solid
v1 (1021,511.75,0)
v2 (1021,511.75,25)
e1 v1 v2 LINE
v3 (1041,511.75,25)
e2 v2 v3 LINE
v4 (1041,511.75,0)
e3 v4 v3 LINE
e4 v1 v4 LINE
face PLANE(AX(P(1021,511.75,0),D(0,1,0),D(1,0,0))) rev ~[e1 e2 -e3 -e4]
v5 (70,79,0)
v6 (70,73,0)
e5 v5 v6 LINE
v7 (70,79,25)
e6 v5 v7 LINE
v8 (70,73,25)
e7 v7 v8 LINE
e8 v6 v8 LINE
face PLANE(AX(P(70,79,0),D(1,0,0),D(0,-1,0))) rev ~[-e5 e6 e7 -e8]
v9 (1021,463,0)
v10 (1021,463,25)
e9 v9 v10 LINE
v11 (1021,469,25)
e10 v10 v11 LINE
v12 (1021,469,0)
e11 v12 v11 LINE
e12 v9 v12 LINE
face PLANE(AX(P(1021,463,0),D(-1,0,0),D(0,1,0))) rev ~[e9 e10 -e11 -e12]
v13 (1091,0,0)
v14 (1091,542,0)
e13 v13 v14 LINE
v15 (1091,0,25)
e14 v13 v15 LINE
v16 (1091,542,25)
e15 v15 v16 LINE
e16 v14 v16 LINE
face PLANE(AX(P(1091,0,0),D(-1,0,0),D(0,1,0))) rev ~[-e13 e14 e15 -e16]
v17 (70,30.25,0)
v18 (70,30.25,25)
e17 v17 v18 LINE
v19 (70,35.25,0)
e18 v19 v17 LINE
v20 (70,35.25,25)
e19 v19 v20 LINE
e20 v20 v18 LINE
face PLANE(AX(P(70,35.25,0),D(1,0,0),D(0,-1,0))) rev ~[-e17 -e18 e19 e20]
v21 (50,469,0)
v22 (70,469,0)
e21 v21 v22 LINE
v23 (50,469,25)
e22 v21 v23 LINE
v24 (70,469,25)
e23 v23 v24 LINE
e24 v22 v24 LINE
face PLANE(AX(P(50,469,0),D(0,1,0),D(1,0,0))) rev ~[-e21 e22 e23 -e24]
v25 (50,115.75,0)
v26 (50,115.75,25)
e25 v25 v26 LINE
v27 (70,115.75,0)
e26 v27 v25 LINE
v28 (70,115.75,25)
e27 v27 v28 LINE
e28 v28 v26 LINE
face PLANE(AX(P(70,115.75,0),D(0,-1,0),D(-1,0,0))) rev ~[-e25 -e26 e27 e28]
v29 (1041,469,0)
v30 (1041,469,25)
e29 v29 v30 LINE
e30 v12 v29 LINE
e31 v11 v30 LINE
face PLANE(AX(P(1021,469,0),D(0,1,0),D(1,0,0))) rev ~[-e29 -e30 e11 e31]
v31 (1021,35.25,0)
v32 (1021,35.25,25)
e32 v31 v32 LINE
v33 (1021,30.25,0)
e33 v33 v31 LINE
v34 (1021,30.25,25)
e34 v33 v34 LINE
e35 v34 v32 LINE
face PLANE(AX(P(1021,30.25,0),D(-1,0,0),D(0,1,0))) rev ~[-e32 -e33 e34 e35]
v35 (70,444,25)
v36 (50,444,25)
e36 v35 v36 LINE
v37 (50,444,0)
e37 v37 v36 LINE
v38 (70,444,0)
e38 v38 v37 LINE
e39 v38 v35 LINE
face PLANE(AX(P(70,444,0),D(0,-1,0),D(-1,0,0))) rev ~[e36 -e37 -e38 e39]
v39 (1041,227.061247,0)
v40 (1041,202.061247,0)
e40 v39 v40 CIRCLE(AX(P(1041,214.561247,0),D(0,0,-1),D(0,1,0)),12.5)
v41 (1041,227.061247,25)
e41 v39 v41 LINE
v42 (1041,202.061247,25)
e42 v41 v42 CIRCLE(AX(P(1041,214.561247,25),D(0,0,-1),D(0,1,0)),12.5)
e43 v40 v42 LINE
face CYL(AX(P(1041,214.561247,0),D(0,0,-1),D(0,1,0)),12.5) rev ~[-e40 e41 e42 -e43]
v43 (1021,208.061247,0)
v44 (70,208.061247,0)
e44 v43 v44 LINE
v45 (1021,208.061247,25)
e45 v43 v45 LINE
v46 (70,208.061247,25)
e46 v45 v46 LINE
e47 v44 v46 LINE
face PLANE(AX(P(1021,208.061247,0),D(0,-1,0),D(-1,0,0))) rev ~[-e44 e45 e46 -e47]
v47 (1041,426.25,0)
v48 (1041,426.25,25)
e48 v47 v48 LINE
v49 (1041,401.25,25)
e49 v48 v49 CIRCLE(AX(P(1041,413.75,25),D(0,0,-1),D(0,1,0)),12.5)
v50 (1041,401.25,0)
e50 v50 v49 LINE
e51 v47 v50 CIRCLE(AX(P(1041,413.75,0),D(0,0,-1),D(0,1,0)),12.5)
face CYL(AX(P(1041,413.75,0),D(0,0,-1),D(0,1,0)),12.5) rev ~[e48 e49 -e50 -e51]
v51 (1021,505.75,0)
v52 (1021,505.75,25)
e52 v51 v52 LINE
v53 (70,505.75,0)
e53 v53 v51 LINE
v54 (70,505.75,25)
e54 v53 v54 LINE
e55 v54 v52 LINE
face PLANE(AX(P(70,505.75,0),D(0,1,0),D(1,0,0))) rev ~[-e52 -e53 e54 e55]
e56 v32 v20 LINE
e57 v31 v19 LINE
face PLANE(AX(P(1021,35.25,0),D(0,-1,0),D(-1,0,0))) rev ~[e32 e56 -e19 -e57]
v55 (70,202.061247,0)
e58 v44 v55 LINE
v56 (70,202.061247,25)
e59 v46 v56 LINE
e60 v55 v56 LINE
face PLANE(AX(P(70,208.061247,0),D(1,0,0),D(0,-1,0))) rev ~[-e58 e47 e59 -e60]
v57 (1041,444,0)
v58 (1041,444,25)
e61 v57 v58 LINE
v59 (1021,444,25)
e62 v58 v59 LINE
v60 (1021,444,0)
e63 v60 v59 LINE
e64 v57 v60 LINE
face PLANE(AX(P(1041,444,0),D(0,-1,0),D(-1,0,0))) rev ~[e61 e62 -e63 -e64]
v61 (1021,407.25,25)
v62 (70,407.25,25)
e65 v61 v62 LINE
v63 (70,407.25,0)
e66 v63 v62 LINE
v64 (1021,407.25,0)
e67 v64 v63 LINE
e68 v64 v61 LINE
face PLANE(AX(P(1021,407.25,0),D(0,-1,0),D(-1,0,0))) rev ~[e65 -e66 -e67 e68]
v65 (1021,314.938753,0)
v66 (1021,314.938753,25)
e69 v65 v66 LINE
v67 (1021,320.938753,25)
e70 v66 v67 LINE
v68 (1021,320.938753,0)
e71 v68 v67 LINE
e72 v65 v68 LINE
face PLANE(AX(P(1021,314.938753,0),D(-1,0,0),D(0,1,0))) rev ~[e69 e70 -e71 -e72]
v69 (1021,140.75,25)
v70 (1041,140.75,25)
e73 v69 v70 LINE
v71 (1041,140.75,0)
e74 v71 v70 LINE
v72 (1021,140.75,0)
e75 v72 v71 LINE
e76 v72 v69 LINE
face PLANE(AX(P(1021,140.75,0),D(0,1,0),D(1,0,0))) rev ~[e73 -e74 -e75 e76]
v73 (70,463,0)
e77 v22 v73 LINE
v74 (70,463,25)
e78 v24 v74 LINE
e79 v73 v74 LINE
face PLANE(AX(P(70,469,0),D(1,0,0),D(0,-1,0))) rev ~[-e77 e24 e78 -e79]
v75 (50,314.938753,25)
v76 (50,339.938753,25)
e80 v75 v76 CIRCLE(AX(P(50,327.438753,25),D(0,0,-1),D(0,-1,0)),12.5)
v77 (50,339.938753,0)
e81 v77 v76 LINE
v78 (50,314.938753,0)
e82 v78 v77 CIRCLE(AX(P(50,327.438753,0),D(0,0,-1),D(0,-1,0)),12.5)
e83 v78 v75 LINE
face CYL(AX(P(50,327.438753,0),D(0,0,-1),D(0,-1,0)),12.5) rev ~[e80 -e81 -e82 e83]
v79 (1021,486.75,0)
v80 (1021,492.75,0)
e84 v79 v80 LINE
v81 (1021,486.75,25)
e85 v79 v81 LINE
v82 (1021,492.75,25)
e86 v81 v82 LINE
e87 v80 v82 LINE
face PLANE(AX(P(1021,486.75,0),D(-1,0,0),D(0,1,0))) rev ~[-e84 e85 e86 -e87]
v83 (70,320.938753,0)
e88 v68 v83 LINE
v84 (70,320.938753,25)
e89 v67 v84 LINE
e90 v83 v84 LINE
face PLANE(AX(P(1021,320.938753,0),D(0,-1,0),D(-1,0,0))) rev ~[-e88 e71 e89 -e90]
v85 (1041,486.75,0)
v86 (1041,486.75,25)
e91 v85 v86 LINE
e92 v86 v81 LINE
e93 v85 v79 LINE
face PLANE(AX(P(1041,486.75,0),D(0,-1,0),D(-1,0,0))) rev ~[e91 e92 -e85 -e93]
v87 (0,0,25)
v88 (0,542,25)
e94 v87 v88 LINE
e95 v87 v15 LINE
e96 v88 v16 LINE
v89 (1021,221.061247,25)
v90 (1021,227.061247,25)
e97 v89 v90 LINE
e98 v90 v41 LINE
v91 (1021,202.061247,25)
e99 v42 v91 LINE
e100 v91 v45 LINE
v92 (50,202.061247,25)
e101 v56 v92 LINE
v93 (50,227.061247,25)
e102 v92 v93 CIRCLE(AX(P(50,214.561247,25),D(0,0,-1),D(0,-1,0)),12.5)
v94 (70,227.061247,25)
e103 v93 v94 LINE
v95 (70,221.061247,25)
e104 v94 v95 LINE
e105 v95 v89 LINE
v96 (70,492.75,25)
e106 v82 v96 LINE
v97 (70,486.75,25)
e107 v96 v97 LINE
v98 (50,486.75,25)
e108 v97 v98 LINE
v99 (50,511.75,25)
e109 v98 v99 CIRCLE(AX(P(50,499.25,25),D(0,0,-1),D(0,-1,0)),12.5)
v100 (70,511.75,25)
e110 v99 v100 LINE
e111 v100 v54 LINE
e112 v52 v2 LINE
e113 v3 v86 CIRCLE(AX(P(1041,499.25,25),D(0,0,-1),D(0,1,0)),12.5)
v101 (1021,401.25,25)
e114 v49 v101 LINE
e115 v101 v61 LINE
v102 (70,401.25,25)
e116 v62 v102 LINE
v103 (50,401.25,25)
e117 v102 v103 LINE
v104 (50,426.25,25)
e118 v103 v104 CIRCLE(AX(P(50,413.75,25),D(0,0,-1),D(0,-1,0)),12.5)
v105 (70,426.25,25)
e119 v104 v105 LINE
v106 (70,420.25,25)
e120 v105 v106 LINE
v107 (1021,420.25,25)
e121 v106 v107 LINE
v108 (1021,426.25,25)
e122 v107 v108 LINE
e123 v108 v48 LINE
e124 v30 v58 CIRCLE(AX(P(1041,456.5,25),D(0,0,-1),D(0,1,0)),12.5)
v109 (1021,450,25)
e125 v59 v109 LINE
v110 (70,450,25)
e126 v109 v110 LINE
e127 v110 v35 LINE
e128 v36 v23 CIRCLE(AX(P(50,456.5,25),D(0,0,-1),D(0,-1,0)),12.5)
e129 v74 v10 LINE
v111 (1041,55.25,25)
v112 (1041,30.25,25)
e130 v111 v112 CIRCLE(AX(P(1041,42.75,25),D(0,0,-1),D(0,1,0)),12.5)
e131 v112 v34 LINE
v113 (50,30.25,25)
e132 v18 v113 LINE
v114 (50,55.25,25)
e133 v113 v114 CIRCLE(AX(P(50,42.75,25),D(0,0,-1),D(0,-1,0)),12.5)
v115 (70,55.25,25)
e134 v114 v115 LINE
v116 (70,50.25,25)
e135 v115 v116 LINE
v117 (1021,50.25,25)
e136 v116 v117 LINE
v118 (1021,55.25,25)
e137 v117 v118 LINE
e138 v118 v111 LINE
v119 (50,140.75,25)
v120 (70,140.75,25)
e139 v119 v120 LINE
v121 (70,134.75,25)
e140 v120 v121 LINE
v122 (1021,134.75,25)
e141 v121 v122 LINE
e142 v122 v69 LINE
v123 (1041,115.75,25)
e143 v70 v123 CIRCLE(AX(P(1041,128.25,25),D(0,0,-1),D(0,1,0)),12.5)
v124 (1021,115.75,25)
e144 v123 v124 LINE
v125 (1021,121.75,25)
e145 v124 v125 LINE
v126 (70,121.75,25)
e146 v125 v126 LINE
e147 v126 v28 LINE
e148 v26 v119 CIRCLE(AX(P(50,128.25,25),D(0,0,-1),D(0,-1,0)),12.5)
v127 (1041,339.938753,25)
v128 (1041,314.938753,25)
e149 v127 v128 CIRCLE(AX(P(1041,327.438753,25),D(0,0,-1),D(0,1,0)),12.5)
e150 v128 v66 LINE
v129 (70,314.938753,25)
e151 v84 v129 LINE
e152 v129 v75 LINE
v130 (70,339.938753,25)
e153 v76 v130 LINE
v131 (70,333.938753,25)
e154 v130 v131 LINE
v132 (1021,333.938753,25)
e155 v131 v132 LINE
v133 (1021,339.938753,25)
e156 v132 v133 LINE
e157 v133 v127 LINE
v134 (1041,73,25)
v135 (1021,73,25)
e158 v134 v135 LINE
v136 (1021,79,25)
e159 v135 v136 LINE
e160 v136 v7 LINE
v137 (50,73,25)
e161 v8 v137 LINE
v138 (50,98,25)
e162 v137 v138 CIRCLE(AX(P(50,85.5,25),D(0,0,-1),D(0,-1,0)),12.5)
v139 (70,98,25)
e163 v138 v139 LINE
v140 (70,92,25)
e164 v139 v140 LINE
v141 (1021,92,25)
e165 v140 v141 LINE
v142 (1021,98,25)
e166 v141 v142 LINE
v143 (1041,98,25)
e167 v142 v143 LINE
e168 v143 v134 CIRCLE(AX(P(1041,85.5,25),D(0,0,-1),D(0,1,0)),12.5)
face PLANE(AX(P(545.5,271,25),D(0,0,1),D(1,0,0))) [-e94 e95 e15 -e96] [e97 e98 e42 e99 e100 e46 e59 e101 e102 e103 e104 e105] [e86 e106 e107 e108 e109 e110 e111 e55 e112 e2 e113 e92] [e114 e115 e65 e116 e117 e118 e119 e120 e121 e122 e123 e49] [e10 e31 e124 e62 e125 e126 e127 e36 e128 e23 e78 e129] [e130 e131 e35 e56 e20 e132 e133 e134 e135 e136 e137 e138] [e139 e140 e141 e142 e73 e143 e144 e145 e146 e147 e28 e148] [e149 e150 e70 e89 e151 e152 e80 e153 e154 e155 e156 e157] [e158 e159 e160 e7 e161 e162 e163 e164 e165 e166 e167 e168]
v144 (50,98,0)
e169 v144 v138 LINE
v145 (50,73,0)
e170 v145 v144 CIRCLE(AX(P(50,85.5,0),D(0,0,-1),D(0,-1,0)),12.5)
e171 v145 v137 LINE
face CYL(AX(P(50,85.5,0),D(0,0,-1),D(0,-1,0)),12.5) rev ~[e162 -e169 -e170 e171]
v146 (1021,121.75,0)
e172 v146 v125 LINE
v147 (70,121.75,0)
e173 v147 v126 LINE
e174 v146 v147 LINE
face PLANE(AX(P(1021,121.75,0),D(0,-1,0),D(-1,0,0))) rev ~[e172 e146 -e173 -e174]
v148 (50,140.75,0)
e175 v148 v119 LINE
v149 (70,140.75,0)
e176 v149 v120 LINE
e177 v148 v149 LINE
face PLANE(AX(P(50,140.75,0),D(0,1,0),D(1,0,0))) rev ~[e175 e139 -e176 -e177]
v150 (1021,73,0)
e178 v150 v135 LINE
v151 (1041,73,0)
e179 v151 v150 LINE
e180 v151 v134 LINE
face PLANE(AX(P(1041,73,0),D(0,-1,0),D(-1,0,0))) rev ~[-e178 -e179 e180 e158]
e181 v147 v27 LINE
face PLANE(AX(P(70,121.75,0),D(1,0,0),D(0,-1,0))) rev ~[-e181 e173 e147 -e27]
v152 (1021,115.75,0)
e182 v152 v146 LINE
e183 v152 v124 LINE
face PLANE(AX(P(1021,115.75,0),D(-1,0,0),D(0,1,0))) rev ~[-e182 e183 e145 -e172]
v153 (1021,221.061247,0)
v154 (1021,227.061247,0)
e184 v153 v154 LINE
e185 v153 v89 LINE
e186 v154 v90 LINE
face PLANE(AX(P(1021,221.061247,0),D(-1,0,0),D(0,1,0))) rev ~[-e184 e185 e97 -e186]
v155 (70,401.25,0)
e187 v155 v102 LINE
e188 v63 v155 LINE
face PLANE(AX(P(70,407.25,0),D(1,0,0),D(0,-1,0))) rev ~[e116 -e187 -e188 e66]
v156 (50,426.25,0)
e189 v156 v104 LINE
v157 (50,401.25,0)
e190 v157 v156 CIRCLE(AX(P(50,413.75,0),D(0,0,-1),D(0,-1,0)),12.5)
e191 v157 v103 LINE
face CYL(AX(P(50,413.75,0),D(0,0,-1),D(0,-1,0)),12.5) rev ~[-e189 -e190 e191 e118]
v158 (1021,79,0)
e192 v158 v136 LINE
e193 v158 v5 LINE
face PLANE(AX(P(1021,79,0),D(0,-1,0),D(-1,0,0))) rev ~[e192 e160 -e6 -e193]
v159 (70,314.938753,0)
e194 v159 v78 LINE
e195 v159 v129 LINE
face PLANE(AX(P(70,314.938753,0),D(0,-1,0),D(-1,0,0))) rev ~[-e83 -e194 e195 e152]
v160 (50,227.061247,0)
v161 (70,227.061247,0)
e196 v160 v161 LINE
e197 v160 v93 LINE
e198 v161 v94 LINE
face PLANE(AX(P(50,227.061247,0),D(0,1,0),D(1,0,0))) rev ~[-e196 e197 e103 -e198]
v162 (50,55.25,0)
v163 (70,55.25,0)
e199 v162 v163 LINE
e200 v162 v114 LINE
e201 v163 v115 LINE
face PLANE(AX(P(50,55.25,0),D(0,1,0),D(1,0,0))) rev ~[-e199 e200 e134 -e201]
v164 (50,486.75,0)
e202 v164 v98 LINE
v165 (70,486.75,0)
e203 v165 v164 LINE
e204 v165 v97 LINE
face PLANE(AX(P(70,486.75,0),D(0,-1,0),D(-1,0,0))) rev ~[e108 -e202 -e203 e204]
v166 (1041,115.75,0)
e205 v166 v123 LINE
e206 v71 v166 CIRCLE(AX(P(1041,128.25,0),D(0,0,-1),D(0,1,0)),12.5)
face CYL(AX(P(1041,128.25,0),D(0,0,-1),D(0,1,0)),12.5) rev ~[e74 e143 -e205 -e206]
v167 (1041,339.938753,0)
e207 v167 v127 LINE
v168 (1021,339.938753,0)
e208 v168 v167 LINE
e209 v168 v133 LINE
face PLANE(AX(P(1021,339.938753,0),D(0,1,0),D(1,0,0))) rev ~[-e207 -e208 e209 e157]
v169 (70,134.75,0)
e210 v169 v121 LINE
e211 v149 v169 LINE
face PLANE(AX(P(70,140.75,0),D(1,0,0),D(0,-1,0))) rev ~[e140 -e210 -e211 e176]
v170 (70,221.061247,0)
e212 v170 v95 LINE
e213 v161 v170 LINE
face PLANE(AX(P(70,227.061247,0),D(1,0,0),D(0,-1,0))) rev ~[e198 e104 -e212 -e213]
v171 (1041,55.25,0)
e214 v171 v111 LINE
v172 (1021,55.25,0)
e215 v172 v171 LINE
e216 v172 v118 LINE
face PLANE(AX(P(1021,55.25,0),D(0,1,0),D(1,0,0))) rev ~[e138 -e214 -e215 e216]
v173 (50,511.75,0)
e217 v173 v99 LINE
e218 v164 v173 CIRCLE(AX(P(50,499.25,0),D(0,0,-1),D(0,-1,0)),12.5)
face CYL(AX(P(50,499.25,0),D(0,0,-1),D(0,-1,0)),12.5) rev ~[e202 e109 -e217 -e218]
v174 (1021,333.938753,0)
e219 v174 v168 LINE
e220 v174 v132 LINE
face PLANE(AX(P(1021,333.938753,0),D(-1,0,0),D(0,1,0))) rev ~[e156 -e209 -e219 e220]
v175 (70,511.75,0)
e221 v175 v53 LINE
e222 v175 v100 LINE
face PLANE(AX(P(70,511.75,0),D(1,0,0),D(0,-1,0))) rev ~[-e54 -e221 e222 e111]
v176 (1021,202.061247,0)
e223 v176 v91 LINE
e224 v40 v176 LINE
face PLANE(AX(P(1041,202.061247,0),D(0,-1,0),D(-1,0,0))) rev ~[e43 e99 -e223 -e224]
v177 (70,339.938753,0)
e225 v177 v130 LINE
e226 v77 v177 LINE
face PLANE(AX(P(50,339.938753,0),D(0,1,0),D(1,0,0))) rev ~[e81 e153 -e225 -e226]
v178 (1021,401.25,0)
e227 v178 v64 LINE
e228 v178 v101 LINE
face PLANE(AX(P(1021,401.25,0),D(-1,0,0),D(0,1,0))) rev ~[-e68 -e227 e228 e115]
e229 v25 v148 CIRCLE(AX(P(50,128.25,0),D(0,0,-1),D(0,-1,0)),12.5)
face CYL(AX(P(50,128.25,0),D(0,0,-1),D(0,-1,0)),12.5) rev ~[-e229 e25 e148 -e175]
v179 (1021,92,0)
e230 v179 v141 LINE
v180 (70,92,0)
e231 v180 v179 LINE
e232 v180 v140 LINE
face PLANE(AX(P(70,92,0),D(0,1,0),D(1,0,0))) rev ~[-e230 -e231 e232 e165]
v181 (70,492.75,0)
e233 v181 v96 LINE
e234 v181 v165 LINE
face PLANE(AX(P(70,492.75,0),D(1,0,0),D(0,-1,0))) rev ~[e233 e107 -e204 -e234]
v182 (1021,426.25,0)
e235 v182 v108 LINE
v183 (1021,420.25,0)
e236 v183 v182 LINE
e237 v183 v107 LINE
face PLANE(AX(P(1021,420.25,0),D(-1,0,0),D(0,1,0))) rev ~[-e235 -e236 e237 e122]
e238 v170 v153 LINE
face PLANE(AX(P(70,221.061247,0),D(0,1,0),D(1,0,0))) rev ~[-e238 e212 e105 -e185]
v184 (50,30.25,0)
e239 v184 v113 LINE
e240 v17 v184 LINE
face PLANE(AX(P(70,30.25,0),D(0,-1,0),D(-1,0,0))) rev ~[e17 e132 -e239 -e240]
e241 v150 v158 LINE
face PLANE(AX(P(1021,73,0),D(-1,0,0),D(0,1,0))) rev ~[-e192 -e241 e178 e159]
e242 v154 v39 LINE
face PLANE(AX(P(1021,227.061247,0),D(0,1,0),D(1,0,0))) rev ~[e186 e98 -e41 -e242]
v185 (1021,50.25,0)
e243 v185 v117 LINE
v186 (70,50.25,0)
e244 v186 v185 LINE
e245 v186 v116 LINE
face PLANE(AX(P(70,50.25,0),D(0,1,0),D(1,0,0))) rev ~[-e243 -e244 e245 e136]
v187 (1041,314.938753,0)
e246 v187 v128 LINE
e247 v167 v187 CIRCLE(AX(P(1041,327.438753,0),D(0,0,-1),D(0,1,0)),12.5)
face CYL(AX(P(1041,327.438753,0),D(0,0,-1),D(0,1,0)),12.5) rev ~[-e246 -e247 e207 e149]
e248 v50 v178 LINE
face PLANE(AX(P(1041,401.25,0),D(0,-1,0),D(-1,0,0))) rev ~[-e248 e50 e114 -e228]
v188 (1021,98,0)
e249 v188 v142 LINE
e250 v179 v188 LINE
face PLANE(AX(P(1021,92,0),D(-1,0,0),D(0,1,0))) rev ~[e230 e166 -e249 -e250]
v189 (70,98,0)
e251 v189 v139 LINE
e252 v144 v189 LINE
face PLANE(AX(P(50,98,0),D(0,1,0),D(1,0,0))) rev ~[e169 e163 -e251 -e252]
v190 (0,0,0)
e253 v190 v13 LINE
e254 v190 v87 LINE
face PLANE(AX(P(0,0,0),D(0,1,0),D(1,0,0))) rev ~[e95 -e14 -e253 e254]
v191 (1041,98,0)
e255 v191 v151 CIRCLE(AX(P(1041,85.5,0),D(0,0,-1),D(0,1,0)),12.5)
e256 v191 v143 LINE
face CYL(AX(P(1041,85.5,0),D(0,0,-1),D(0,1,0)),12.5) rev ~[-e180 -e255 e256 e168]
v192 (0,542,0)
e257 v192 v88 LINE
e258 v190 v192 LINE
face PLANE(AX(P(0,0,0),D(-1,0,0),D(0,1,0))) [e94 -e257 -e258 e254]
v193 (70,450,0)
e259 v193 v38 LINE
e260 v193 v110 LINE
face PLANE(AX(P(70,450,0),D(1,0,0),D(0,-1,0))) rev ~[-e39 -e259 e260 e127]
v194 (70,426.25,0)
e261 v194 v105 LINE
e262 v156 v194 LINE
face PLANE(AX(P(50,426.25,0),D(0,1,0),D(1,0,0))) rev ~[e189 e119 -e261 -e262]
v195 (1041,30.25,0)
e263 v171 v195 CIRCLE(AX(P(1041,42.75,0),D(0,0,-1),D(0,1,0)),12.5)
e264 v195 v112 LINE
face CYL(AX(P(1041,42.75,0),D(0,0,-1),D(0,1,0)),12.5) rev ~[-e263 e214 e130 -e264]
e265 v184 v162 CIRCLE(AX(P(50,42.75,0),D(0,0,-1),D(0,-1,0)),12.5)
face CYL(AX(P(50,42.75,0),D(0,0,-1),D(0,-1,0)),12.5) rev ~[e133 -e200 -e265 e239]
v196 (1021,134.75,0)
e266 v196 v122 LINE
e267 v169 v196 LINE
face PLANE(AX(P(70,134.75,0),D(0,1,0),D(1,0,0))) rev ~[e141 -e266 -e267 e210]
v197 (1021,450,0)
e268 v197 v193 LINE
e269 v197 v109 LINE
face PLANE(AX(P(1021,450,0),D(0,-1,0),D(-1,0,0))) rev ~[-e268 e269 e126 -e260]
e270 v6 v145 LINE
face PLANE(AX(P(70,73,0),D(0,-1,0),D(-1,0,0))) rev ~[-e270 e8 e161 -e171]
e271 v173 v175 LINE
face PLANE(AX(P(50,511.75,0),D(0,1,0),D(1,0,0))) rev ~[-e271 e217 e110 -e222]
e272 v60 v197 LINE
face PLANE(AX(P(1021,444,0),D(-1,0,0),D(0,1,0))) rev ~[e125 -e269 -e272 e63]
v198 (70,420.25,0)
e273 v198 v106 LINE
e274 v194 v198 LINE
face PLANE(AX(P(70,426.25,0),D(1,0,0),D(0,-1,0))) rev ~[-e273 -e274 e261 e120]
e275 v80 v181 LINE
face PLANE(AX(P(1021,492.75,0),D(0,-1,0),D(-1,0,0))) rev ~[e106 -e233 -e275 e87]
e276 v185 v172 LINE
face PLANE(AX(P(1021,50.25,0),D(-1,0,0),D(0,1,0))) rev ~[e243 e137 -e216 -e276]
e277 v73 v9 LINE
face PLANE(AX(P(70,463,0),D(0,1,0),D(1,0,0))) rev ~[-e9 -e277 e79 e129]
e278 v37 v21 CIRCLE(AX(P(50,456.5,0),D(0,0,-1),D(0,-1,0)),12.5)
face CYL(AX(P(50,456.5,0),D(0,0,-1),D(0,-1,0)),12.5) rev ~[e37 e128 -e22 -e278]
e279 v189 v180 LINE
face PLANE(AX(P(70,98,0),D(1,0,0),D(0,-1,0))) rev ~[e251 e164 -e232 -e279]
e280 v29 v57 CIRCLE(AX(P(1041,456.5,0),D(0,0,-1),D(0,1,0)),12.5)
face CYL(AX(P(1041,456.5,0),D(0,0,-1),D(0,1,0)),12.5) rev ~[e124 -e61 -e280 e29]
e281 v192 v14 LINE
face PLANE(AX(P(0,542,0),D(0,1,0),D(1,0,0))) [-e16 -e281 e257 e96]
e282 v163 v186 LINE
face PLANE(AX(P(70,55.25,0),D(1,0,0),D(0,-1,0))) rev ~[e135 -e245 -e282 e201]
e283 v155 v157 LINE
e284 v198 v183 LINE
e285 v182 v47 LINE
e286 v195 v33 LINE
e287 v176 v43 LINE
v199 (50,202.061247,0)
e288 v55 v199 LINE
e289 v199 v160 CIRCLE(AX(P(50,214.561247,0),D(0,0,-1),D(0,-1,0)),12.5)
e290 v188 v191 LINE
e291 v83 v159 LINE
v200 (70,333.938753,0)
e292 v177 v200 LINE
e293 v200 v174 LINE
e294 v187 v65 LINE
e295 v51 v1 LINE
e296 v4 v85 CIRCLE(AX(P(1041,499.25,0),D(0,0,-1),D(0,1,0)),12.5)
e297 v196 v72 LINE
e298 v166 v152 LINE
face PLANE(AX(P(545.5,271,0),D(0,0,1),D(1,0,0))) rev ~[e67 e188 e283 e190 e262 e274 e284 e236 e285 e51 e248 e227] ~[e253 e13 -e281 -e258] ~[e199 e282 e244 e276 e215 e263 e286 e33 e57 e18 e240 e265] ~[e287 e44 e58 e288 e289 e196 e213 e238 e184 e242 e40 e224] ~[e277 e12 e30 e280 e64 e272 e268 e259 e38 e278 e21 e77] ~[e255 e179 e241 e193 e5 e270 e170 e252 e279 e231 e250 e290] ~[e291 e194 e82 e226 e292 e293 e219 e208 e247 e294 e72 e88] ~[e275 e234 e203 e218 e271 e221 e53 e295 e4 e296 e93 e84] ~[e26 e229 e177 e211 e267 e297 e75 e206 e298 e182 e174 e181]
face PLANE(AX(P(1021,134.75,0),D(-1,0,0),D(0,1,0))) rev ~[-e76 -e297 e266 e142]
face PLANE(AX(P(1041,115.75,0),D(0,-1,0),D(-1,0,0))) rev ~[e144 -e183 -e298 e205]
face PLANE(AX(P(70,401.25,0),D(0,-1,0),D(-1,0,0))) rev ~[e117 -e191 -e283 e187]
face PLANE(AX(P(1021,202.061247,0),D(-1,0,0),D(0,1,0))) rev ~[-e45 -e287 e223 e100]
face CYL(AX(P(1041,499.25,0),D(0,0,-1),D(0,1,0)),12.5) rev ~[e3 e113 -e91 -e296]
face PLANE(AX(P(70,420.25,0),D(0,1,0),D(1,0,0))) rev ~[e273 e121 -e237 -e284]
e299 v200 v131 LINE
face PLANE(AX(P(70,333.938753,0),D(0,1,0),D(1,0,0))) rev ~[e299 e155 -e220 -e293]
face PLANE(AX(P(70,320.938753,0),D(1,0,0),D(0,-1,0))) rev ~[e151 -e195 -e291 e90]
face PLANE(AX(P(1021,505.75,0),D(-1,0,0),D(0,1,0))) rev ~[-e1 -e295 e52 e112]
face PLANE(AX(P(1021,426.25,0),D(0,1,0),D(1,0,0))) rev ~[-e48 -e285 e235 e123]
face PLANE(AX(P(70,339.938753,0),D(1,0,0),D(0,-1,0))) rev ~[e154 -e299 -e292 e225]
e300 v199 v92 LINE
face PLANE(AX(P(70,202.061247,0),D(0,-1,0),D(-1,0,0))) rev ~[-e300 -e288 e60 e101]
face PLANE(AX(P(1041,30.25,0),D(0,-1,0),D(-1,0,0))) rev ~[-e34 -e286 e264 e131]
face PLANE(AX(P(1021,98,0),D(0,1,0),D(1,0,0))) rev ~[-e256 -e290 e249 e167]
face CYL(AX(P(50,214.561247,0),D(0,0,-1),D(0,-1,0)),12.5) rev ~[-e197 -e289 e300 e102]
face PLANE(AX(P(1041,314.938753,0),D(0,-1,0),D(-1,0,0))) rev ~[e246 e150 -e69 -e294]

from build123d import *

# Parameters (mm, degrees)
F1_W     = 1091
F1_H     = 542
F2_DEPTH = 25


with BuildPart() as f2:
    # F1 (on face) → F2 (new body)
    with BuildSketch(Plane.XY):
        with Locations((545.5, 271)):
            Rectangle(F1_W, F1_H)
        with BuildLine():
            Line((70, 30.25), (50, 30.25))
            ThreePointArc((50, 30.25), (37.5, 42.75), (50, 55.25))
            Line((50, 55.25), (70, 55.25))
            Line((70, 55.25), (70, 50.25))
            Line((70, 50.25), (1021, 50.25))
            Line((1021, 50.25), (1021, 55.25))
            Line((1021, 55.25), (1041, 55.25))
            ThreePointArc((1041, 55.25), (1053.5, 42.75), (1041, 30.25))
            Line((1041, 30.25), (1021, 30.25))
            Line((1021, 30.25), (1021, 35.25))
            Line((1021, 35.25), (70, 35.25))
            Line((70, 35.25), (70, 30.25))
        make_face(mode=Mode.SUBTRACT)
        with BuildLine():
            Line((70, 73), (50, 73))
            ThreePointArc((50, 73), (37.5, 85.5), (50, 98))
            Line((50, 98), (70, 98))
            Line((70, 98), (70, 92))
            Line((70, 92), (1021, 92))
            Line((1021, 92), (1021, 98))
            Line((1021, 98), (1041, 98))
            ThreePointArc((1041, 98), (1053.5, 85.5), (1041, 73))
            Line((1041, 73), (1021, 73))
            Line((1021, 73), (1021, 79))
            Line((1021, 79), (70, 79))
            Line((70, 79), (70, 73))
        make_face(mode=Mode.SUBTRACT)
        with BuildLine():
            Line((70, 115.75), (50, 115.75))
            ThreePointArc((50, 115.75), (37.5, 128.25), (50, 140.75))
            Line((50, 140.75), (70, 140.75))
            Line((70, 140.75), (70, 134.75))
            Line((70, 134.75), (1021, 134.75))
            Line((1021, 134.75), (1021, 140.75))
            Line((1021, 140.75), (1041, 140.75))
            ThreePointArc((1041, 140.75), (1053.5, 128.25), (1041, 115.75))
            Line((1041, 115.75), (1021, 115.75))
            Line((1021, 115.75), (1021, 121.75))
            Line((1021, 121.75), (70, 121.75))
            Line((70, 121.75), (70, 115.75))
        make_face(mode=Mode.SUBTRACT)
        with BuildLine():
            Line((70, 202.061247), (50, 202.061247))
            ThreePointArc((50, 202.061247), (37.5, 214.561247), (50, 227.061247))
            Line((50, 227.061247), (70, 227.061247))
            Line((70, 227.061247), (70, 221.061247))
            Line((70, 221.061247), (1021, 221.061247))
            Line((1021, 221.061247), (1021, 227.061247))
            Line((1021, 227.061247), (1041, 227.061247))
            ThreePointArc((1041, 227.061247), (1053.5, 214.561247), (1041, 202.061247))
            Line((1041, 202.061247), (1021, 202.061247))
            Line((1021, 202.061247), (1021, 208.061247))
            Line((1021, 208.061247), (70, 208.061247))
            Line((70, 208.061247), (70, 202.061247))
        make_face(mode=Mode.SUBTRACT)
        with BuildLine():
            Line((70, 314.938753), (50, 314.938753))
            ThreePointArc((50, 314.938753), (37.5, 327.438753), (50, 339.938753))
            Line((50, 339.938753), (70, 339.938753))
            Line((70, 339.938753), (70, 333.938753))
            Line((70, 333.938753), (1021, 333.938753))
            Line((1021, 333.938753), (1021, 339.938753))
            Line((1021, 339.938753), (1041, 339.938753))
            ThreePointArc((1041, 339.938753), (1053.5, 327.438753), (1041, 314.938753))
            Line((1041, 314.938753), (1021, 314.938753))
            Line((1021, 314.938753), (1021, 320.938753))
            Line((1021, 320.938753), (70, 320.938753))
            Line((70, 320.938753), (70, 314.938753))
        make_face(mode=Mode.SUBTRACT)
        with BuildLine():
            Line((70, 401.25), (50, 401.25))
            ThreePointArc((50, 401.25), (37.5, 413.75), (50, 426.25))
            Line((50, 426.25), (70, 426.25))
            Line((70, 426.25), (70, 420.25))
            Line((70, 420.25), (1021, 420.25))
            Line((1021, 420.25), (1021, 426.25))
            Line((1021, 426.25), (1041, 426.25))
            ThreePointArc((1041, 426.25), (1053.5, 413.75), (1041, 401.25))
            Line((1041, 401.25), (1021, 401.25))
            Line((1021, 401.25), (1021, 407.25))
            Line((1021, 407.25), (70, 407.25))
            Line((70, 407.25), (70, 401.25))
        make_face(mode=Mode.SUBTRACT)
        with BuildLine():
            Line((70, 444), (50, 444))
            ThreePointArc((50, 444), (37.5, 456.5), (50, 469))
            Line((50, 469), (70, 469))
            Line((70, 469), (70, 463))
            Line((70, 463), (1021, 463))
            Line((1021, 463), (1021, 469))
            Line((1021, 469), (1041, 469))
            ThreePointArc((1041, 469), (1053.5, 456.5), (1041, 444))
            Line((1041, 444), (1021, 444))
            Line((1021, 444), (1021, 450))
            Line((1021, 450), (70, 450))
            Line((70, 450), (70, 444))
        make_face(mode=Mode.SUBTRACT)
        with BuildLine():
            Line((70, 486.75), (50, 486.75))
            ThreePointArc((50, 486.75), (37.5, 499.25), (50, 511.75))
            Line((50, 511.75), (70, 511.75))
            Line((70, 511.75), (70, 505.75))
            Line((70, 505.75), (1021, 505.75))
            Line((1021, 505.75), (1021, 511.75))
            Line((1021, 511.75), (1041, 511.75))
            ThreePointArc((1041, 511.75), (1053.5, 499.25), (1041, 486.75))
            Line((1041, 486.75), (1021, 486.75))
            Line((1021, 486.75), (1021, 492.75))
            Line((1021, 492.75), (70, 492.75))
            Line((70, 492.75), (70, 486.75))
        make_face(mode=Mode.SUBTRACT)
    extrude(amount=F2_DEPTH)


solid = f2.part
